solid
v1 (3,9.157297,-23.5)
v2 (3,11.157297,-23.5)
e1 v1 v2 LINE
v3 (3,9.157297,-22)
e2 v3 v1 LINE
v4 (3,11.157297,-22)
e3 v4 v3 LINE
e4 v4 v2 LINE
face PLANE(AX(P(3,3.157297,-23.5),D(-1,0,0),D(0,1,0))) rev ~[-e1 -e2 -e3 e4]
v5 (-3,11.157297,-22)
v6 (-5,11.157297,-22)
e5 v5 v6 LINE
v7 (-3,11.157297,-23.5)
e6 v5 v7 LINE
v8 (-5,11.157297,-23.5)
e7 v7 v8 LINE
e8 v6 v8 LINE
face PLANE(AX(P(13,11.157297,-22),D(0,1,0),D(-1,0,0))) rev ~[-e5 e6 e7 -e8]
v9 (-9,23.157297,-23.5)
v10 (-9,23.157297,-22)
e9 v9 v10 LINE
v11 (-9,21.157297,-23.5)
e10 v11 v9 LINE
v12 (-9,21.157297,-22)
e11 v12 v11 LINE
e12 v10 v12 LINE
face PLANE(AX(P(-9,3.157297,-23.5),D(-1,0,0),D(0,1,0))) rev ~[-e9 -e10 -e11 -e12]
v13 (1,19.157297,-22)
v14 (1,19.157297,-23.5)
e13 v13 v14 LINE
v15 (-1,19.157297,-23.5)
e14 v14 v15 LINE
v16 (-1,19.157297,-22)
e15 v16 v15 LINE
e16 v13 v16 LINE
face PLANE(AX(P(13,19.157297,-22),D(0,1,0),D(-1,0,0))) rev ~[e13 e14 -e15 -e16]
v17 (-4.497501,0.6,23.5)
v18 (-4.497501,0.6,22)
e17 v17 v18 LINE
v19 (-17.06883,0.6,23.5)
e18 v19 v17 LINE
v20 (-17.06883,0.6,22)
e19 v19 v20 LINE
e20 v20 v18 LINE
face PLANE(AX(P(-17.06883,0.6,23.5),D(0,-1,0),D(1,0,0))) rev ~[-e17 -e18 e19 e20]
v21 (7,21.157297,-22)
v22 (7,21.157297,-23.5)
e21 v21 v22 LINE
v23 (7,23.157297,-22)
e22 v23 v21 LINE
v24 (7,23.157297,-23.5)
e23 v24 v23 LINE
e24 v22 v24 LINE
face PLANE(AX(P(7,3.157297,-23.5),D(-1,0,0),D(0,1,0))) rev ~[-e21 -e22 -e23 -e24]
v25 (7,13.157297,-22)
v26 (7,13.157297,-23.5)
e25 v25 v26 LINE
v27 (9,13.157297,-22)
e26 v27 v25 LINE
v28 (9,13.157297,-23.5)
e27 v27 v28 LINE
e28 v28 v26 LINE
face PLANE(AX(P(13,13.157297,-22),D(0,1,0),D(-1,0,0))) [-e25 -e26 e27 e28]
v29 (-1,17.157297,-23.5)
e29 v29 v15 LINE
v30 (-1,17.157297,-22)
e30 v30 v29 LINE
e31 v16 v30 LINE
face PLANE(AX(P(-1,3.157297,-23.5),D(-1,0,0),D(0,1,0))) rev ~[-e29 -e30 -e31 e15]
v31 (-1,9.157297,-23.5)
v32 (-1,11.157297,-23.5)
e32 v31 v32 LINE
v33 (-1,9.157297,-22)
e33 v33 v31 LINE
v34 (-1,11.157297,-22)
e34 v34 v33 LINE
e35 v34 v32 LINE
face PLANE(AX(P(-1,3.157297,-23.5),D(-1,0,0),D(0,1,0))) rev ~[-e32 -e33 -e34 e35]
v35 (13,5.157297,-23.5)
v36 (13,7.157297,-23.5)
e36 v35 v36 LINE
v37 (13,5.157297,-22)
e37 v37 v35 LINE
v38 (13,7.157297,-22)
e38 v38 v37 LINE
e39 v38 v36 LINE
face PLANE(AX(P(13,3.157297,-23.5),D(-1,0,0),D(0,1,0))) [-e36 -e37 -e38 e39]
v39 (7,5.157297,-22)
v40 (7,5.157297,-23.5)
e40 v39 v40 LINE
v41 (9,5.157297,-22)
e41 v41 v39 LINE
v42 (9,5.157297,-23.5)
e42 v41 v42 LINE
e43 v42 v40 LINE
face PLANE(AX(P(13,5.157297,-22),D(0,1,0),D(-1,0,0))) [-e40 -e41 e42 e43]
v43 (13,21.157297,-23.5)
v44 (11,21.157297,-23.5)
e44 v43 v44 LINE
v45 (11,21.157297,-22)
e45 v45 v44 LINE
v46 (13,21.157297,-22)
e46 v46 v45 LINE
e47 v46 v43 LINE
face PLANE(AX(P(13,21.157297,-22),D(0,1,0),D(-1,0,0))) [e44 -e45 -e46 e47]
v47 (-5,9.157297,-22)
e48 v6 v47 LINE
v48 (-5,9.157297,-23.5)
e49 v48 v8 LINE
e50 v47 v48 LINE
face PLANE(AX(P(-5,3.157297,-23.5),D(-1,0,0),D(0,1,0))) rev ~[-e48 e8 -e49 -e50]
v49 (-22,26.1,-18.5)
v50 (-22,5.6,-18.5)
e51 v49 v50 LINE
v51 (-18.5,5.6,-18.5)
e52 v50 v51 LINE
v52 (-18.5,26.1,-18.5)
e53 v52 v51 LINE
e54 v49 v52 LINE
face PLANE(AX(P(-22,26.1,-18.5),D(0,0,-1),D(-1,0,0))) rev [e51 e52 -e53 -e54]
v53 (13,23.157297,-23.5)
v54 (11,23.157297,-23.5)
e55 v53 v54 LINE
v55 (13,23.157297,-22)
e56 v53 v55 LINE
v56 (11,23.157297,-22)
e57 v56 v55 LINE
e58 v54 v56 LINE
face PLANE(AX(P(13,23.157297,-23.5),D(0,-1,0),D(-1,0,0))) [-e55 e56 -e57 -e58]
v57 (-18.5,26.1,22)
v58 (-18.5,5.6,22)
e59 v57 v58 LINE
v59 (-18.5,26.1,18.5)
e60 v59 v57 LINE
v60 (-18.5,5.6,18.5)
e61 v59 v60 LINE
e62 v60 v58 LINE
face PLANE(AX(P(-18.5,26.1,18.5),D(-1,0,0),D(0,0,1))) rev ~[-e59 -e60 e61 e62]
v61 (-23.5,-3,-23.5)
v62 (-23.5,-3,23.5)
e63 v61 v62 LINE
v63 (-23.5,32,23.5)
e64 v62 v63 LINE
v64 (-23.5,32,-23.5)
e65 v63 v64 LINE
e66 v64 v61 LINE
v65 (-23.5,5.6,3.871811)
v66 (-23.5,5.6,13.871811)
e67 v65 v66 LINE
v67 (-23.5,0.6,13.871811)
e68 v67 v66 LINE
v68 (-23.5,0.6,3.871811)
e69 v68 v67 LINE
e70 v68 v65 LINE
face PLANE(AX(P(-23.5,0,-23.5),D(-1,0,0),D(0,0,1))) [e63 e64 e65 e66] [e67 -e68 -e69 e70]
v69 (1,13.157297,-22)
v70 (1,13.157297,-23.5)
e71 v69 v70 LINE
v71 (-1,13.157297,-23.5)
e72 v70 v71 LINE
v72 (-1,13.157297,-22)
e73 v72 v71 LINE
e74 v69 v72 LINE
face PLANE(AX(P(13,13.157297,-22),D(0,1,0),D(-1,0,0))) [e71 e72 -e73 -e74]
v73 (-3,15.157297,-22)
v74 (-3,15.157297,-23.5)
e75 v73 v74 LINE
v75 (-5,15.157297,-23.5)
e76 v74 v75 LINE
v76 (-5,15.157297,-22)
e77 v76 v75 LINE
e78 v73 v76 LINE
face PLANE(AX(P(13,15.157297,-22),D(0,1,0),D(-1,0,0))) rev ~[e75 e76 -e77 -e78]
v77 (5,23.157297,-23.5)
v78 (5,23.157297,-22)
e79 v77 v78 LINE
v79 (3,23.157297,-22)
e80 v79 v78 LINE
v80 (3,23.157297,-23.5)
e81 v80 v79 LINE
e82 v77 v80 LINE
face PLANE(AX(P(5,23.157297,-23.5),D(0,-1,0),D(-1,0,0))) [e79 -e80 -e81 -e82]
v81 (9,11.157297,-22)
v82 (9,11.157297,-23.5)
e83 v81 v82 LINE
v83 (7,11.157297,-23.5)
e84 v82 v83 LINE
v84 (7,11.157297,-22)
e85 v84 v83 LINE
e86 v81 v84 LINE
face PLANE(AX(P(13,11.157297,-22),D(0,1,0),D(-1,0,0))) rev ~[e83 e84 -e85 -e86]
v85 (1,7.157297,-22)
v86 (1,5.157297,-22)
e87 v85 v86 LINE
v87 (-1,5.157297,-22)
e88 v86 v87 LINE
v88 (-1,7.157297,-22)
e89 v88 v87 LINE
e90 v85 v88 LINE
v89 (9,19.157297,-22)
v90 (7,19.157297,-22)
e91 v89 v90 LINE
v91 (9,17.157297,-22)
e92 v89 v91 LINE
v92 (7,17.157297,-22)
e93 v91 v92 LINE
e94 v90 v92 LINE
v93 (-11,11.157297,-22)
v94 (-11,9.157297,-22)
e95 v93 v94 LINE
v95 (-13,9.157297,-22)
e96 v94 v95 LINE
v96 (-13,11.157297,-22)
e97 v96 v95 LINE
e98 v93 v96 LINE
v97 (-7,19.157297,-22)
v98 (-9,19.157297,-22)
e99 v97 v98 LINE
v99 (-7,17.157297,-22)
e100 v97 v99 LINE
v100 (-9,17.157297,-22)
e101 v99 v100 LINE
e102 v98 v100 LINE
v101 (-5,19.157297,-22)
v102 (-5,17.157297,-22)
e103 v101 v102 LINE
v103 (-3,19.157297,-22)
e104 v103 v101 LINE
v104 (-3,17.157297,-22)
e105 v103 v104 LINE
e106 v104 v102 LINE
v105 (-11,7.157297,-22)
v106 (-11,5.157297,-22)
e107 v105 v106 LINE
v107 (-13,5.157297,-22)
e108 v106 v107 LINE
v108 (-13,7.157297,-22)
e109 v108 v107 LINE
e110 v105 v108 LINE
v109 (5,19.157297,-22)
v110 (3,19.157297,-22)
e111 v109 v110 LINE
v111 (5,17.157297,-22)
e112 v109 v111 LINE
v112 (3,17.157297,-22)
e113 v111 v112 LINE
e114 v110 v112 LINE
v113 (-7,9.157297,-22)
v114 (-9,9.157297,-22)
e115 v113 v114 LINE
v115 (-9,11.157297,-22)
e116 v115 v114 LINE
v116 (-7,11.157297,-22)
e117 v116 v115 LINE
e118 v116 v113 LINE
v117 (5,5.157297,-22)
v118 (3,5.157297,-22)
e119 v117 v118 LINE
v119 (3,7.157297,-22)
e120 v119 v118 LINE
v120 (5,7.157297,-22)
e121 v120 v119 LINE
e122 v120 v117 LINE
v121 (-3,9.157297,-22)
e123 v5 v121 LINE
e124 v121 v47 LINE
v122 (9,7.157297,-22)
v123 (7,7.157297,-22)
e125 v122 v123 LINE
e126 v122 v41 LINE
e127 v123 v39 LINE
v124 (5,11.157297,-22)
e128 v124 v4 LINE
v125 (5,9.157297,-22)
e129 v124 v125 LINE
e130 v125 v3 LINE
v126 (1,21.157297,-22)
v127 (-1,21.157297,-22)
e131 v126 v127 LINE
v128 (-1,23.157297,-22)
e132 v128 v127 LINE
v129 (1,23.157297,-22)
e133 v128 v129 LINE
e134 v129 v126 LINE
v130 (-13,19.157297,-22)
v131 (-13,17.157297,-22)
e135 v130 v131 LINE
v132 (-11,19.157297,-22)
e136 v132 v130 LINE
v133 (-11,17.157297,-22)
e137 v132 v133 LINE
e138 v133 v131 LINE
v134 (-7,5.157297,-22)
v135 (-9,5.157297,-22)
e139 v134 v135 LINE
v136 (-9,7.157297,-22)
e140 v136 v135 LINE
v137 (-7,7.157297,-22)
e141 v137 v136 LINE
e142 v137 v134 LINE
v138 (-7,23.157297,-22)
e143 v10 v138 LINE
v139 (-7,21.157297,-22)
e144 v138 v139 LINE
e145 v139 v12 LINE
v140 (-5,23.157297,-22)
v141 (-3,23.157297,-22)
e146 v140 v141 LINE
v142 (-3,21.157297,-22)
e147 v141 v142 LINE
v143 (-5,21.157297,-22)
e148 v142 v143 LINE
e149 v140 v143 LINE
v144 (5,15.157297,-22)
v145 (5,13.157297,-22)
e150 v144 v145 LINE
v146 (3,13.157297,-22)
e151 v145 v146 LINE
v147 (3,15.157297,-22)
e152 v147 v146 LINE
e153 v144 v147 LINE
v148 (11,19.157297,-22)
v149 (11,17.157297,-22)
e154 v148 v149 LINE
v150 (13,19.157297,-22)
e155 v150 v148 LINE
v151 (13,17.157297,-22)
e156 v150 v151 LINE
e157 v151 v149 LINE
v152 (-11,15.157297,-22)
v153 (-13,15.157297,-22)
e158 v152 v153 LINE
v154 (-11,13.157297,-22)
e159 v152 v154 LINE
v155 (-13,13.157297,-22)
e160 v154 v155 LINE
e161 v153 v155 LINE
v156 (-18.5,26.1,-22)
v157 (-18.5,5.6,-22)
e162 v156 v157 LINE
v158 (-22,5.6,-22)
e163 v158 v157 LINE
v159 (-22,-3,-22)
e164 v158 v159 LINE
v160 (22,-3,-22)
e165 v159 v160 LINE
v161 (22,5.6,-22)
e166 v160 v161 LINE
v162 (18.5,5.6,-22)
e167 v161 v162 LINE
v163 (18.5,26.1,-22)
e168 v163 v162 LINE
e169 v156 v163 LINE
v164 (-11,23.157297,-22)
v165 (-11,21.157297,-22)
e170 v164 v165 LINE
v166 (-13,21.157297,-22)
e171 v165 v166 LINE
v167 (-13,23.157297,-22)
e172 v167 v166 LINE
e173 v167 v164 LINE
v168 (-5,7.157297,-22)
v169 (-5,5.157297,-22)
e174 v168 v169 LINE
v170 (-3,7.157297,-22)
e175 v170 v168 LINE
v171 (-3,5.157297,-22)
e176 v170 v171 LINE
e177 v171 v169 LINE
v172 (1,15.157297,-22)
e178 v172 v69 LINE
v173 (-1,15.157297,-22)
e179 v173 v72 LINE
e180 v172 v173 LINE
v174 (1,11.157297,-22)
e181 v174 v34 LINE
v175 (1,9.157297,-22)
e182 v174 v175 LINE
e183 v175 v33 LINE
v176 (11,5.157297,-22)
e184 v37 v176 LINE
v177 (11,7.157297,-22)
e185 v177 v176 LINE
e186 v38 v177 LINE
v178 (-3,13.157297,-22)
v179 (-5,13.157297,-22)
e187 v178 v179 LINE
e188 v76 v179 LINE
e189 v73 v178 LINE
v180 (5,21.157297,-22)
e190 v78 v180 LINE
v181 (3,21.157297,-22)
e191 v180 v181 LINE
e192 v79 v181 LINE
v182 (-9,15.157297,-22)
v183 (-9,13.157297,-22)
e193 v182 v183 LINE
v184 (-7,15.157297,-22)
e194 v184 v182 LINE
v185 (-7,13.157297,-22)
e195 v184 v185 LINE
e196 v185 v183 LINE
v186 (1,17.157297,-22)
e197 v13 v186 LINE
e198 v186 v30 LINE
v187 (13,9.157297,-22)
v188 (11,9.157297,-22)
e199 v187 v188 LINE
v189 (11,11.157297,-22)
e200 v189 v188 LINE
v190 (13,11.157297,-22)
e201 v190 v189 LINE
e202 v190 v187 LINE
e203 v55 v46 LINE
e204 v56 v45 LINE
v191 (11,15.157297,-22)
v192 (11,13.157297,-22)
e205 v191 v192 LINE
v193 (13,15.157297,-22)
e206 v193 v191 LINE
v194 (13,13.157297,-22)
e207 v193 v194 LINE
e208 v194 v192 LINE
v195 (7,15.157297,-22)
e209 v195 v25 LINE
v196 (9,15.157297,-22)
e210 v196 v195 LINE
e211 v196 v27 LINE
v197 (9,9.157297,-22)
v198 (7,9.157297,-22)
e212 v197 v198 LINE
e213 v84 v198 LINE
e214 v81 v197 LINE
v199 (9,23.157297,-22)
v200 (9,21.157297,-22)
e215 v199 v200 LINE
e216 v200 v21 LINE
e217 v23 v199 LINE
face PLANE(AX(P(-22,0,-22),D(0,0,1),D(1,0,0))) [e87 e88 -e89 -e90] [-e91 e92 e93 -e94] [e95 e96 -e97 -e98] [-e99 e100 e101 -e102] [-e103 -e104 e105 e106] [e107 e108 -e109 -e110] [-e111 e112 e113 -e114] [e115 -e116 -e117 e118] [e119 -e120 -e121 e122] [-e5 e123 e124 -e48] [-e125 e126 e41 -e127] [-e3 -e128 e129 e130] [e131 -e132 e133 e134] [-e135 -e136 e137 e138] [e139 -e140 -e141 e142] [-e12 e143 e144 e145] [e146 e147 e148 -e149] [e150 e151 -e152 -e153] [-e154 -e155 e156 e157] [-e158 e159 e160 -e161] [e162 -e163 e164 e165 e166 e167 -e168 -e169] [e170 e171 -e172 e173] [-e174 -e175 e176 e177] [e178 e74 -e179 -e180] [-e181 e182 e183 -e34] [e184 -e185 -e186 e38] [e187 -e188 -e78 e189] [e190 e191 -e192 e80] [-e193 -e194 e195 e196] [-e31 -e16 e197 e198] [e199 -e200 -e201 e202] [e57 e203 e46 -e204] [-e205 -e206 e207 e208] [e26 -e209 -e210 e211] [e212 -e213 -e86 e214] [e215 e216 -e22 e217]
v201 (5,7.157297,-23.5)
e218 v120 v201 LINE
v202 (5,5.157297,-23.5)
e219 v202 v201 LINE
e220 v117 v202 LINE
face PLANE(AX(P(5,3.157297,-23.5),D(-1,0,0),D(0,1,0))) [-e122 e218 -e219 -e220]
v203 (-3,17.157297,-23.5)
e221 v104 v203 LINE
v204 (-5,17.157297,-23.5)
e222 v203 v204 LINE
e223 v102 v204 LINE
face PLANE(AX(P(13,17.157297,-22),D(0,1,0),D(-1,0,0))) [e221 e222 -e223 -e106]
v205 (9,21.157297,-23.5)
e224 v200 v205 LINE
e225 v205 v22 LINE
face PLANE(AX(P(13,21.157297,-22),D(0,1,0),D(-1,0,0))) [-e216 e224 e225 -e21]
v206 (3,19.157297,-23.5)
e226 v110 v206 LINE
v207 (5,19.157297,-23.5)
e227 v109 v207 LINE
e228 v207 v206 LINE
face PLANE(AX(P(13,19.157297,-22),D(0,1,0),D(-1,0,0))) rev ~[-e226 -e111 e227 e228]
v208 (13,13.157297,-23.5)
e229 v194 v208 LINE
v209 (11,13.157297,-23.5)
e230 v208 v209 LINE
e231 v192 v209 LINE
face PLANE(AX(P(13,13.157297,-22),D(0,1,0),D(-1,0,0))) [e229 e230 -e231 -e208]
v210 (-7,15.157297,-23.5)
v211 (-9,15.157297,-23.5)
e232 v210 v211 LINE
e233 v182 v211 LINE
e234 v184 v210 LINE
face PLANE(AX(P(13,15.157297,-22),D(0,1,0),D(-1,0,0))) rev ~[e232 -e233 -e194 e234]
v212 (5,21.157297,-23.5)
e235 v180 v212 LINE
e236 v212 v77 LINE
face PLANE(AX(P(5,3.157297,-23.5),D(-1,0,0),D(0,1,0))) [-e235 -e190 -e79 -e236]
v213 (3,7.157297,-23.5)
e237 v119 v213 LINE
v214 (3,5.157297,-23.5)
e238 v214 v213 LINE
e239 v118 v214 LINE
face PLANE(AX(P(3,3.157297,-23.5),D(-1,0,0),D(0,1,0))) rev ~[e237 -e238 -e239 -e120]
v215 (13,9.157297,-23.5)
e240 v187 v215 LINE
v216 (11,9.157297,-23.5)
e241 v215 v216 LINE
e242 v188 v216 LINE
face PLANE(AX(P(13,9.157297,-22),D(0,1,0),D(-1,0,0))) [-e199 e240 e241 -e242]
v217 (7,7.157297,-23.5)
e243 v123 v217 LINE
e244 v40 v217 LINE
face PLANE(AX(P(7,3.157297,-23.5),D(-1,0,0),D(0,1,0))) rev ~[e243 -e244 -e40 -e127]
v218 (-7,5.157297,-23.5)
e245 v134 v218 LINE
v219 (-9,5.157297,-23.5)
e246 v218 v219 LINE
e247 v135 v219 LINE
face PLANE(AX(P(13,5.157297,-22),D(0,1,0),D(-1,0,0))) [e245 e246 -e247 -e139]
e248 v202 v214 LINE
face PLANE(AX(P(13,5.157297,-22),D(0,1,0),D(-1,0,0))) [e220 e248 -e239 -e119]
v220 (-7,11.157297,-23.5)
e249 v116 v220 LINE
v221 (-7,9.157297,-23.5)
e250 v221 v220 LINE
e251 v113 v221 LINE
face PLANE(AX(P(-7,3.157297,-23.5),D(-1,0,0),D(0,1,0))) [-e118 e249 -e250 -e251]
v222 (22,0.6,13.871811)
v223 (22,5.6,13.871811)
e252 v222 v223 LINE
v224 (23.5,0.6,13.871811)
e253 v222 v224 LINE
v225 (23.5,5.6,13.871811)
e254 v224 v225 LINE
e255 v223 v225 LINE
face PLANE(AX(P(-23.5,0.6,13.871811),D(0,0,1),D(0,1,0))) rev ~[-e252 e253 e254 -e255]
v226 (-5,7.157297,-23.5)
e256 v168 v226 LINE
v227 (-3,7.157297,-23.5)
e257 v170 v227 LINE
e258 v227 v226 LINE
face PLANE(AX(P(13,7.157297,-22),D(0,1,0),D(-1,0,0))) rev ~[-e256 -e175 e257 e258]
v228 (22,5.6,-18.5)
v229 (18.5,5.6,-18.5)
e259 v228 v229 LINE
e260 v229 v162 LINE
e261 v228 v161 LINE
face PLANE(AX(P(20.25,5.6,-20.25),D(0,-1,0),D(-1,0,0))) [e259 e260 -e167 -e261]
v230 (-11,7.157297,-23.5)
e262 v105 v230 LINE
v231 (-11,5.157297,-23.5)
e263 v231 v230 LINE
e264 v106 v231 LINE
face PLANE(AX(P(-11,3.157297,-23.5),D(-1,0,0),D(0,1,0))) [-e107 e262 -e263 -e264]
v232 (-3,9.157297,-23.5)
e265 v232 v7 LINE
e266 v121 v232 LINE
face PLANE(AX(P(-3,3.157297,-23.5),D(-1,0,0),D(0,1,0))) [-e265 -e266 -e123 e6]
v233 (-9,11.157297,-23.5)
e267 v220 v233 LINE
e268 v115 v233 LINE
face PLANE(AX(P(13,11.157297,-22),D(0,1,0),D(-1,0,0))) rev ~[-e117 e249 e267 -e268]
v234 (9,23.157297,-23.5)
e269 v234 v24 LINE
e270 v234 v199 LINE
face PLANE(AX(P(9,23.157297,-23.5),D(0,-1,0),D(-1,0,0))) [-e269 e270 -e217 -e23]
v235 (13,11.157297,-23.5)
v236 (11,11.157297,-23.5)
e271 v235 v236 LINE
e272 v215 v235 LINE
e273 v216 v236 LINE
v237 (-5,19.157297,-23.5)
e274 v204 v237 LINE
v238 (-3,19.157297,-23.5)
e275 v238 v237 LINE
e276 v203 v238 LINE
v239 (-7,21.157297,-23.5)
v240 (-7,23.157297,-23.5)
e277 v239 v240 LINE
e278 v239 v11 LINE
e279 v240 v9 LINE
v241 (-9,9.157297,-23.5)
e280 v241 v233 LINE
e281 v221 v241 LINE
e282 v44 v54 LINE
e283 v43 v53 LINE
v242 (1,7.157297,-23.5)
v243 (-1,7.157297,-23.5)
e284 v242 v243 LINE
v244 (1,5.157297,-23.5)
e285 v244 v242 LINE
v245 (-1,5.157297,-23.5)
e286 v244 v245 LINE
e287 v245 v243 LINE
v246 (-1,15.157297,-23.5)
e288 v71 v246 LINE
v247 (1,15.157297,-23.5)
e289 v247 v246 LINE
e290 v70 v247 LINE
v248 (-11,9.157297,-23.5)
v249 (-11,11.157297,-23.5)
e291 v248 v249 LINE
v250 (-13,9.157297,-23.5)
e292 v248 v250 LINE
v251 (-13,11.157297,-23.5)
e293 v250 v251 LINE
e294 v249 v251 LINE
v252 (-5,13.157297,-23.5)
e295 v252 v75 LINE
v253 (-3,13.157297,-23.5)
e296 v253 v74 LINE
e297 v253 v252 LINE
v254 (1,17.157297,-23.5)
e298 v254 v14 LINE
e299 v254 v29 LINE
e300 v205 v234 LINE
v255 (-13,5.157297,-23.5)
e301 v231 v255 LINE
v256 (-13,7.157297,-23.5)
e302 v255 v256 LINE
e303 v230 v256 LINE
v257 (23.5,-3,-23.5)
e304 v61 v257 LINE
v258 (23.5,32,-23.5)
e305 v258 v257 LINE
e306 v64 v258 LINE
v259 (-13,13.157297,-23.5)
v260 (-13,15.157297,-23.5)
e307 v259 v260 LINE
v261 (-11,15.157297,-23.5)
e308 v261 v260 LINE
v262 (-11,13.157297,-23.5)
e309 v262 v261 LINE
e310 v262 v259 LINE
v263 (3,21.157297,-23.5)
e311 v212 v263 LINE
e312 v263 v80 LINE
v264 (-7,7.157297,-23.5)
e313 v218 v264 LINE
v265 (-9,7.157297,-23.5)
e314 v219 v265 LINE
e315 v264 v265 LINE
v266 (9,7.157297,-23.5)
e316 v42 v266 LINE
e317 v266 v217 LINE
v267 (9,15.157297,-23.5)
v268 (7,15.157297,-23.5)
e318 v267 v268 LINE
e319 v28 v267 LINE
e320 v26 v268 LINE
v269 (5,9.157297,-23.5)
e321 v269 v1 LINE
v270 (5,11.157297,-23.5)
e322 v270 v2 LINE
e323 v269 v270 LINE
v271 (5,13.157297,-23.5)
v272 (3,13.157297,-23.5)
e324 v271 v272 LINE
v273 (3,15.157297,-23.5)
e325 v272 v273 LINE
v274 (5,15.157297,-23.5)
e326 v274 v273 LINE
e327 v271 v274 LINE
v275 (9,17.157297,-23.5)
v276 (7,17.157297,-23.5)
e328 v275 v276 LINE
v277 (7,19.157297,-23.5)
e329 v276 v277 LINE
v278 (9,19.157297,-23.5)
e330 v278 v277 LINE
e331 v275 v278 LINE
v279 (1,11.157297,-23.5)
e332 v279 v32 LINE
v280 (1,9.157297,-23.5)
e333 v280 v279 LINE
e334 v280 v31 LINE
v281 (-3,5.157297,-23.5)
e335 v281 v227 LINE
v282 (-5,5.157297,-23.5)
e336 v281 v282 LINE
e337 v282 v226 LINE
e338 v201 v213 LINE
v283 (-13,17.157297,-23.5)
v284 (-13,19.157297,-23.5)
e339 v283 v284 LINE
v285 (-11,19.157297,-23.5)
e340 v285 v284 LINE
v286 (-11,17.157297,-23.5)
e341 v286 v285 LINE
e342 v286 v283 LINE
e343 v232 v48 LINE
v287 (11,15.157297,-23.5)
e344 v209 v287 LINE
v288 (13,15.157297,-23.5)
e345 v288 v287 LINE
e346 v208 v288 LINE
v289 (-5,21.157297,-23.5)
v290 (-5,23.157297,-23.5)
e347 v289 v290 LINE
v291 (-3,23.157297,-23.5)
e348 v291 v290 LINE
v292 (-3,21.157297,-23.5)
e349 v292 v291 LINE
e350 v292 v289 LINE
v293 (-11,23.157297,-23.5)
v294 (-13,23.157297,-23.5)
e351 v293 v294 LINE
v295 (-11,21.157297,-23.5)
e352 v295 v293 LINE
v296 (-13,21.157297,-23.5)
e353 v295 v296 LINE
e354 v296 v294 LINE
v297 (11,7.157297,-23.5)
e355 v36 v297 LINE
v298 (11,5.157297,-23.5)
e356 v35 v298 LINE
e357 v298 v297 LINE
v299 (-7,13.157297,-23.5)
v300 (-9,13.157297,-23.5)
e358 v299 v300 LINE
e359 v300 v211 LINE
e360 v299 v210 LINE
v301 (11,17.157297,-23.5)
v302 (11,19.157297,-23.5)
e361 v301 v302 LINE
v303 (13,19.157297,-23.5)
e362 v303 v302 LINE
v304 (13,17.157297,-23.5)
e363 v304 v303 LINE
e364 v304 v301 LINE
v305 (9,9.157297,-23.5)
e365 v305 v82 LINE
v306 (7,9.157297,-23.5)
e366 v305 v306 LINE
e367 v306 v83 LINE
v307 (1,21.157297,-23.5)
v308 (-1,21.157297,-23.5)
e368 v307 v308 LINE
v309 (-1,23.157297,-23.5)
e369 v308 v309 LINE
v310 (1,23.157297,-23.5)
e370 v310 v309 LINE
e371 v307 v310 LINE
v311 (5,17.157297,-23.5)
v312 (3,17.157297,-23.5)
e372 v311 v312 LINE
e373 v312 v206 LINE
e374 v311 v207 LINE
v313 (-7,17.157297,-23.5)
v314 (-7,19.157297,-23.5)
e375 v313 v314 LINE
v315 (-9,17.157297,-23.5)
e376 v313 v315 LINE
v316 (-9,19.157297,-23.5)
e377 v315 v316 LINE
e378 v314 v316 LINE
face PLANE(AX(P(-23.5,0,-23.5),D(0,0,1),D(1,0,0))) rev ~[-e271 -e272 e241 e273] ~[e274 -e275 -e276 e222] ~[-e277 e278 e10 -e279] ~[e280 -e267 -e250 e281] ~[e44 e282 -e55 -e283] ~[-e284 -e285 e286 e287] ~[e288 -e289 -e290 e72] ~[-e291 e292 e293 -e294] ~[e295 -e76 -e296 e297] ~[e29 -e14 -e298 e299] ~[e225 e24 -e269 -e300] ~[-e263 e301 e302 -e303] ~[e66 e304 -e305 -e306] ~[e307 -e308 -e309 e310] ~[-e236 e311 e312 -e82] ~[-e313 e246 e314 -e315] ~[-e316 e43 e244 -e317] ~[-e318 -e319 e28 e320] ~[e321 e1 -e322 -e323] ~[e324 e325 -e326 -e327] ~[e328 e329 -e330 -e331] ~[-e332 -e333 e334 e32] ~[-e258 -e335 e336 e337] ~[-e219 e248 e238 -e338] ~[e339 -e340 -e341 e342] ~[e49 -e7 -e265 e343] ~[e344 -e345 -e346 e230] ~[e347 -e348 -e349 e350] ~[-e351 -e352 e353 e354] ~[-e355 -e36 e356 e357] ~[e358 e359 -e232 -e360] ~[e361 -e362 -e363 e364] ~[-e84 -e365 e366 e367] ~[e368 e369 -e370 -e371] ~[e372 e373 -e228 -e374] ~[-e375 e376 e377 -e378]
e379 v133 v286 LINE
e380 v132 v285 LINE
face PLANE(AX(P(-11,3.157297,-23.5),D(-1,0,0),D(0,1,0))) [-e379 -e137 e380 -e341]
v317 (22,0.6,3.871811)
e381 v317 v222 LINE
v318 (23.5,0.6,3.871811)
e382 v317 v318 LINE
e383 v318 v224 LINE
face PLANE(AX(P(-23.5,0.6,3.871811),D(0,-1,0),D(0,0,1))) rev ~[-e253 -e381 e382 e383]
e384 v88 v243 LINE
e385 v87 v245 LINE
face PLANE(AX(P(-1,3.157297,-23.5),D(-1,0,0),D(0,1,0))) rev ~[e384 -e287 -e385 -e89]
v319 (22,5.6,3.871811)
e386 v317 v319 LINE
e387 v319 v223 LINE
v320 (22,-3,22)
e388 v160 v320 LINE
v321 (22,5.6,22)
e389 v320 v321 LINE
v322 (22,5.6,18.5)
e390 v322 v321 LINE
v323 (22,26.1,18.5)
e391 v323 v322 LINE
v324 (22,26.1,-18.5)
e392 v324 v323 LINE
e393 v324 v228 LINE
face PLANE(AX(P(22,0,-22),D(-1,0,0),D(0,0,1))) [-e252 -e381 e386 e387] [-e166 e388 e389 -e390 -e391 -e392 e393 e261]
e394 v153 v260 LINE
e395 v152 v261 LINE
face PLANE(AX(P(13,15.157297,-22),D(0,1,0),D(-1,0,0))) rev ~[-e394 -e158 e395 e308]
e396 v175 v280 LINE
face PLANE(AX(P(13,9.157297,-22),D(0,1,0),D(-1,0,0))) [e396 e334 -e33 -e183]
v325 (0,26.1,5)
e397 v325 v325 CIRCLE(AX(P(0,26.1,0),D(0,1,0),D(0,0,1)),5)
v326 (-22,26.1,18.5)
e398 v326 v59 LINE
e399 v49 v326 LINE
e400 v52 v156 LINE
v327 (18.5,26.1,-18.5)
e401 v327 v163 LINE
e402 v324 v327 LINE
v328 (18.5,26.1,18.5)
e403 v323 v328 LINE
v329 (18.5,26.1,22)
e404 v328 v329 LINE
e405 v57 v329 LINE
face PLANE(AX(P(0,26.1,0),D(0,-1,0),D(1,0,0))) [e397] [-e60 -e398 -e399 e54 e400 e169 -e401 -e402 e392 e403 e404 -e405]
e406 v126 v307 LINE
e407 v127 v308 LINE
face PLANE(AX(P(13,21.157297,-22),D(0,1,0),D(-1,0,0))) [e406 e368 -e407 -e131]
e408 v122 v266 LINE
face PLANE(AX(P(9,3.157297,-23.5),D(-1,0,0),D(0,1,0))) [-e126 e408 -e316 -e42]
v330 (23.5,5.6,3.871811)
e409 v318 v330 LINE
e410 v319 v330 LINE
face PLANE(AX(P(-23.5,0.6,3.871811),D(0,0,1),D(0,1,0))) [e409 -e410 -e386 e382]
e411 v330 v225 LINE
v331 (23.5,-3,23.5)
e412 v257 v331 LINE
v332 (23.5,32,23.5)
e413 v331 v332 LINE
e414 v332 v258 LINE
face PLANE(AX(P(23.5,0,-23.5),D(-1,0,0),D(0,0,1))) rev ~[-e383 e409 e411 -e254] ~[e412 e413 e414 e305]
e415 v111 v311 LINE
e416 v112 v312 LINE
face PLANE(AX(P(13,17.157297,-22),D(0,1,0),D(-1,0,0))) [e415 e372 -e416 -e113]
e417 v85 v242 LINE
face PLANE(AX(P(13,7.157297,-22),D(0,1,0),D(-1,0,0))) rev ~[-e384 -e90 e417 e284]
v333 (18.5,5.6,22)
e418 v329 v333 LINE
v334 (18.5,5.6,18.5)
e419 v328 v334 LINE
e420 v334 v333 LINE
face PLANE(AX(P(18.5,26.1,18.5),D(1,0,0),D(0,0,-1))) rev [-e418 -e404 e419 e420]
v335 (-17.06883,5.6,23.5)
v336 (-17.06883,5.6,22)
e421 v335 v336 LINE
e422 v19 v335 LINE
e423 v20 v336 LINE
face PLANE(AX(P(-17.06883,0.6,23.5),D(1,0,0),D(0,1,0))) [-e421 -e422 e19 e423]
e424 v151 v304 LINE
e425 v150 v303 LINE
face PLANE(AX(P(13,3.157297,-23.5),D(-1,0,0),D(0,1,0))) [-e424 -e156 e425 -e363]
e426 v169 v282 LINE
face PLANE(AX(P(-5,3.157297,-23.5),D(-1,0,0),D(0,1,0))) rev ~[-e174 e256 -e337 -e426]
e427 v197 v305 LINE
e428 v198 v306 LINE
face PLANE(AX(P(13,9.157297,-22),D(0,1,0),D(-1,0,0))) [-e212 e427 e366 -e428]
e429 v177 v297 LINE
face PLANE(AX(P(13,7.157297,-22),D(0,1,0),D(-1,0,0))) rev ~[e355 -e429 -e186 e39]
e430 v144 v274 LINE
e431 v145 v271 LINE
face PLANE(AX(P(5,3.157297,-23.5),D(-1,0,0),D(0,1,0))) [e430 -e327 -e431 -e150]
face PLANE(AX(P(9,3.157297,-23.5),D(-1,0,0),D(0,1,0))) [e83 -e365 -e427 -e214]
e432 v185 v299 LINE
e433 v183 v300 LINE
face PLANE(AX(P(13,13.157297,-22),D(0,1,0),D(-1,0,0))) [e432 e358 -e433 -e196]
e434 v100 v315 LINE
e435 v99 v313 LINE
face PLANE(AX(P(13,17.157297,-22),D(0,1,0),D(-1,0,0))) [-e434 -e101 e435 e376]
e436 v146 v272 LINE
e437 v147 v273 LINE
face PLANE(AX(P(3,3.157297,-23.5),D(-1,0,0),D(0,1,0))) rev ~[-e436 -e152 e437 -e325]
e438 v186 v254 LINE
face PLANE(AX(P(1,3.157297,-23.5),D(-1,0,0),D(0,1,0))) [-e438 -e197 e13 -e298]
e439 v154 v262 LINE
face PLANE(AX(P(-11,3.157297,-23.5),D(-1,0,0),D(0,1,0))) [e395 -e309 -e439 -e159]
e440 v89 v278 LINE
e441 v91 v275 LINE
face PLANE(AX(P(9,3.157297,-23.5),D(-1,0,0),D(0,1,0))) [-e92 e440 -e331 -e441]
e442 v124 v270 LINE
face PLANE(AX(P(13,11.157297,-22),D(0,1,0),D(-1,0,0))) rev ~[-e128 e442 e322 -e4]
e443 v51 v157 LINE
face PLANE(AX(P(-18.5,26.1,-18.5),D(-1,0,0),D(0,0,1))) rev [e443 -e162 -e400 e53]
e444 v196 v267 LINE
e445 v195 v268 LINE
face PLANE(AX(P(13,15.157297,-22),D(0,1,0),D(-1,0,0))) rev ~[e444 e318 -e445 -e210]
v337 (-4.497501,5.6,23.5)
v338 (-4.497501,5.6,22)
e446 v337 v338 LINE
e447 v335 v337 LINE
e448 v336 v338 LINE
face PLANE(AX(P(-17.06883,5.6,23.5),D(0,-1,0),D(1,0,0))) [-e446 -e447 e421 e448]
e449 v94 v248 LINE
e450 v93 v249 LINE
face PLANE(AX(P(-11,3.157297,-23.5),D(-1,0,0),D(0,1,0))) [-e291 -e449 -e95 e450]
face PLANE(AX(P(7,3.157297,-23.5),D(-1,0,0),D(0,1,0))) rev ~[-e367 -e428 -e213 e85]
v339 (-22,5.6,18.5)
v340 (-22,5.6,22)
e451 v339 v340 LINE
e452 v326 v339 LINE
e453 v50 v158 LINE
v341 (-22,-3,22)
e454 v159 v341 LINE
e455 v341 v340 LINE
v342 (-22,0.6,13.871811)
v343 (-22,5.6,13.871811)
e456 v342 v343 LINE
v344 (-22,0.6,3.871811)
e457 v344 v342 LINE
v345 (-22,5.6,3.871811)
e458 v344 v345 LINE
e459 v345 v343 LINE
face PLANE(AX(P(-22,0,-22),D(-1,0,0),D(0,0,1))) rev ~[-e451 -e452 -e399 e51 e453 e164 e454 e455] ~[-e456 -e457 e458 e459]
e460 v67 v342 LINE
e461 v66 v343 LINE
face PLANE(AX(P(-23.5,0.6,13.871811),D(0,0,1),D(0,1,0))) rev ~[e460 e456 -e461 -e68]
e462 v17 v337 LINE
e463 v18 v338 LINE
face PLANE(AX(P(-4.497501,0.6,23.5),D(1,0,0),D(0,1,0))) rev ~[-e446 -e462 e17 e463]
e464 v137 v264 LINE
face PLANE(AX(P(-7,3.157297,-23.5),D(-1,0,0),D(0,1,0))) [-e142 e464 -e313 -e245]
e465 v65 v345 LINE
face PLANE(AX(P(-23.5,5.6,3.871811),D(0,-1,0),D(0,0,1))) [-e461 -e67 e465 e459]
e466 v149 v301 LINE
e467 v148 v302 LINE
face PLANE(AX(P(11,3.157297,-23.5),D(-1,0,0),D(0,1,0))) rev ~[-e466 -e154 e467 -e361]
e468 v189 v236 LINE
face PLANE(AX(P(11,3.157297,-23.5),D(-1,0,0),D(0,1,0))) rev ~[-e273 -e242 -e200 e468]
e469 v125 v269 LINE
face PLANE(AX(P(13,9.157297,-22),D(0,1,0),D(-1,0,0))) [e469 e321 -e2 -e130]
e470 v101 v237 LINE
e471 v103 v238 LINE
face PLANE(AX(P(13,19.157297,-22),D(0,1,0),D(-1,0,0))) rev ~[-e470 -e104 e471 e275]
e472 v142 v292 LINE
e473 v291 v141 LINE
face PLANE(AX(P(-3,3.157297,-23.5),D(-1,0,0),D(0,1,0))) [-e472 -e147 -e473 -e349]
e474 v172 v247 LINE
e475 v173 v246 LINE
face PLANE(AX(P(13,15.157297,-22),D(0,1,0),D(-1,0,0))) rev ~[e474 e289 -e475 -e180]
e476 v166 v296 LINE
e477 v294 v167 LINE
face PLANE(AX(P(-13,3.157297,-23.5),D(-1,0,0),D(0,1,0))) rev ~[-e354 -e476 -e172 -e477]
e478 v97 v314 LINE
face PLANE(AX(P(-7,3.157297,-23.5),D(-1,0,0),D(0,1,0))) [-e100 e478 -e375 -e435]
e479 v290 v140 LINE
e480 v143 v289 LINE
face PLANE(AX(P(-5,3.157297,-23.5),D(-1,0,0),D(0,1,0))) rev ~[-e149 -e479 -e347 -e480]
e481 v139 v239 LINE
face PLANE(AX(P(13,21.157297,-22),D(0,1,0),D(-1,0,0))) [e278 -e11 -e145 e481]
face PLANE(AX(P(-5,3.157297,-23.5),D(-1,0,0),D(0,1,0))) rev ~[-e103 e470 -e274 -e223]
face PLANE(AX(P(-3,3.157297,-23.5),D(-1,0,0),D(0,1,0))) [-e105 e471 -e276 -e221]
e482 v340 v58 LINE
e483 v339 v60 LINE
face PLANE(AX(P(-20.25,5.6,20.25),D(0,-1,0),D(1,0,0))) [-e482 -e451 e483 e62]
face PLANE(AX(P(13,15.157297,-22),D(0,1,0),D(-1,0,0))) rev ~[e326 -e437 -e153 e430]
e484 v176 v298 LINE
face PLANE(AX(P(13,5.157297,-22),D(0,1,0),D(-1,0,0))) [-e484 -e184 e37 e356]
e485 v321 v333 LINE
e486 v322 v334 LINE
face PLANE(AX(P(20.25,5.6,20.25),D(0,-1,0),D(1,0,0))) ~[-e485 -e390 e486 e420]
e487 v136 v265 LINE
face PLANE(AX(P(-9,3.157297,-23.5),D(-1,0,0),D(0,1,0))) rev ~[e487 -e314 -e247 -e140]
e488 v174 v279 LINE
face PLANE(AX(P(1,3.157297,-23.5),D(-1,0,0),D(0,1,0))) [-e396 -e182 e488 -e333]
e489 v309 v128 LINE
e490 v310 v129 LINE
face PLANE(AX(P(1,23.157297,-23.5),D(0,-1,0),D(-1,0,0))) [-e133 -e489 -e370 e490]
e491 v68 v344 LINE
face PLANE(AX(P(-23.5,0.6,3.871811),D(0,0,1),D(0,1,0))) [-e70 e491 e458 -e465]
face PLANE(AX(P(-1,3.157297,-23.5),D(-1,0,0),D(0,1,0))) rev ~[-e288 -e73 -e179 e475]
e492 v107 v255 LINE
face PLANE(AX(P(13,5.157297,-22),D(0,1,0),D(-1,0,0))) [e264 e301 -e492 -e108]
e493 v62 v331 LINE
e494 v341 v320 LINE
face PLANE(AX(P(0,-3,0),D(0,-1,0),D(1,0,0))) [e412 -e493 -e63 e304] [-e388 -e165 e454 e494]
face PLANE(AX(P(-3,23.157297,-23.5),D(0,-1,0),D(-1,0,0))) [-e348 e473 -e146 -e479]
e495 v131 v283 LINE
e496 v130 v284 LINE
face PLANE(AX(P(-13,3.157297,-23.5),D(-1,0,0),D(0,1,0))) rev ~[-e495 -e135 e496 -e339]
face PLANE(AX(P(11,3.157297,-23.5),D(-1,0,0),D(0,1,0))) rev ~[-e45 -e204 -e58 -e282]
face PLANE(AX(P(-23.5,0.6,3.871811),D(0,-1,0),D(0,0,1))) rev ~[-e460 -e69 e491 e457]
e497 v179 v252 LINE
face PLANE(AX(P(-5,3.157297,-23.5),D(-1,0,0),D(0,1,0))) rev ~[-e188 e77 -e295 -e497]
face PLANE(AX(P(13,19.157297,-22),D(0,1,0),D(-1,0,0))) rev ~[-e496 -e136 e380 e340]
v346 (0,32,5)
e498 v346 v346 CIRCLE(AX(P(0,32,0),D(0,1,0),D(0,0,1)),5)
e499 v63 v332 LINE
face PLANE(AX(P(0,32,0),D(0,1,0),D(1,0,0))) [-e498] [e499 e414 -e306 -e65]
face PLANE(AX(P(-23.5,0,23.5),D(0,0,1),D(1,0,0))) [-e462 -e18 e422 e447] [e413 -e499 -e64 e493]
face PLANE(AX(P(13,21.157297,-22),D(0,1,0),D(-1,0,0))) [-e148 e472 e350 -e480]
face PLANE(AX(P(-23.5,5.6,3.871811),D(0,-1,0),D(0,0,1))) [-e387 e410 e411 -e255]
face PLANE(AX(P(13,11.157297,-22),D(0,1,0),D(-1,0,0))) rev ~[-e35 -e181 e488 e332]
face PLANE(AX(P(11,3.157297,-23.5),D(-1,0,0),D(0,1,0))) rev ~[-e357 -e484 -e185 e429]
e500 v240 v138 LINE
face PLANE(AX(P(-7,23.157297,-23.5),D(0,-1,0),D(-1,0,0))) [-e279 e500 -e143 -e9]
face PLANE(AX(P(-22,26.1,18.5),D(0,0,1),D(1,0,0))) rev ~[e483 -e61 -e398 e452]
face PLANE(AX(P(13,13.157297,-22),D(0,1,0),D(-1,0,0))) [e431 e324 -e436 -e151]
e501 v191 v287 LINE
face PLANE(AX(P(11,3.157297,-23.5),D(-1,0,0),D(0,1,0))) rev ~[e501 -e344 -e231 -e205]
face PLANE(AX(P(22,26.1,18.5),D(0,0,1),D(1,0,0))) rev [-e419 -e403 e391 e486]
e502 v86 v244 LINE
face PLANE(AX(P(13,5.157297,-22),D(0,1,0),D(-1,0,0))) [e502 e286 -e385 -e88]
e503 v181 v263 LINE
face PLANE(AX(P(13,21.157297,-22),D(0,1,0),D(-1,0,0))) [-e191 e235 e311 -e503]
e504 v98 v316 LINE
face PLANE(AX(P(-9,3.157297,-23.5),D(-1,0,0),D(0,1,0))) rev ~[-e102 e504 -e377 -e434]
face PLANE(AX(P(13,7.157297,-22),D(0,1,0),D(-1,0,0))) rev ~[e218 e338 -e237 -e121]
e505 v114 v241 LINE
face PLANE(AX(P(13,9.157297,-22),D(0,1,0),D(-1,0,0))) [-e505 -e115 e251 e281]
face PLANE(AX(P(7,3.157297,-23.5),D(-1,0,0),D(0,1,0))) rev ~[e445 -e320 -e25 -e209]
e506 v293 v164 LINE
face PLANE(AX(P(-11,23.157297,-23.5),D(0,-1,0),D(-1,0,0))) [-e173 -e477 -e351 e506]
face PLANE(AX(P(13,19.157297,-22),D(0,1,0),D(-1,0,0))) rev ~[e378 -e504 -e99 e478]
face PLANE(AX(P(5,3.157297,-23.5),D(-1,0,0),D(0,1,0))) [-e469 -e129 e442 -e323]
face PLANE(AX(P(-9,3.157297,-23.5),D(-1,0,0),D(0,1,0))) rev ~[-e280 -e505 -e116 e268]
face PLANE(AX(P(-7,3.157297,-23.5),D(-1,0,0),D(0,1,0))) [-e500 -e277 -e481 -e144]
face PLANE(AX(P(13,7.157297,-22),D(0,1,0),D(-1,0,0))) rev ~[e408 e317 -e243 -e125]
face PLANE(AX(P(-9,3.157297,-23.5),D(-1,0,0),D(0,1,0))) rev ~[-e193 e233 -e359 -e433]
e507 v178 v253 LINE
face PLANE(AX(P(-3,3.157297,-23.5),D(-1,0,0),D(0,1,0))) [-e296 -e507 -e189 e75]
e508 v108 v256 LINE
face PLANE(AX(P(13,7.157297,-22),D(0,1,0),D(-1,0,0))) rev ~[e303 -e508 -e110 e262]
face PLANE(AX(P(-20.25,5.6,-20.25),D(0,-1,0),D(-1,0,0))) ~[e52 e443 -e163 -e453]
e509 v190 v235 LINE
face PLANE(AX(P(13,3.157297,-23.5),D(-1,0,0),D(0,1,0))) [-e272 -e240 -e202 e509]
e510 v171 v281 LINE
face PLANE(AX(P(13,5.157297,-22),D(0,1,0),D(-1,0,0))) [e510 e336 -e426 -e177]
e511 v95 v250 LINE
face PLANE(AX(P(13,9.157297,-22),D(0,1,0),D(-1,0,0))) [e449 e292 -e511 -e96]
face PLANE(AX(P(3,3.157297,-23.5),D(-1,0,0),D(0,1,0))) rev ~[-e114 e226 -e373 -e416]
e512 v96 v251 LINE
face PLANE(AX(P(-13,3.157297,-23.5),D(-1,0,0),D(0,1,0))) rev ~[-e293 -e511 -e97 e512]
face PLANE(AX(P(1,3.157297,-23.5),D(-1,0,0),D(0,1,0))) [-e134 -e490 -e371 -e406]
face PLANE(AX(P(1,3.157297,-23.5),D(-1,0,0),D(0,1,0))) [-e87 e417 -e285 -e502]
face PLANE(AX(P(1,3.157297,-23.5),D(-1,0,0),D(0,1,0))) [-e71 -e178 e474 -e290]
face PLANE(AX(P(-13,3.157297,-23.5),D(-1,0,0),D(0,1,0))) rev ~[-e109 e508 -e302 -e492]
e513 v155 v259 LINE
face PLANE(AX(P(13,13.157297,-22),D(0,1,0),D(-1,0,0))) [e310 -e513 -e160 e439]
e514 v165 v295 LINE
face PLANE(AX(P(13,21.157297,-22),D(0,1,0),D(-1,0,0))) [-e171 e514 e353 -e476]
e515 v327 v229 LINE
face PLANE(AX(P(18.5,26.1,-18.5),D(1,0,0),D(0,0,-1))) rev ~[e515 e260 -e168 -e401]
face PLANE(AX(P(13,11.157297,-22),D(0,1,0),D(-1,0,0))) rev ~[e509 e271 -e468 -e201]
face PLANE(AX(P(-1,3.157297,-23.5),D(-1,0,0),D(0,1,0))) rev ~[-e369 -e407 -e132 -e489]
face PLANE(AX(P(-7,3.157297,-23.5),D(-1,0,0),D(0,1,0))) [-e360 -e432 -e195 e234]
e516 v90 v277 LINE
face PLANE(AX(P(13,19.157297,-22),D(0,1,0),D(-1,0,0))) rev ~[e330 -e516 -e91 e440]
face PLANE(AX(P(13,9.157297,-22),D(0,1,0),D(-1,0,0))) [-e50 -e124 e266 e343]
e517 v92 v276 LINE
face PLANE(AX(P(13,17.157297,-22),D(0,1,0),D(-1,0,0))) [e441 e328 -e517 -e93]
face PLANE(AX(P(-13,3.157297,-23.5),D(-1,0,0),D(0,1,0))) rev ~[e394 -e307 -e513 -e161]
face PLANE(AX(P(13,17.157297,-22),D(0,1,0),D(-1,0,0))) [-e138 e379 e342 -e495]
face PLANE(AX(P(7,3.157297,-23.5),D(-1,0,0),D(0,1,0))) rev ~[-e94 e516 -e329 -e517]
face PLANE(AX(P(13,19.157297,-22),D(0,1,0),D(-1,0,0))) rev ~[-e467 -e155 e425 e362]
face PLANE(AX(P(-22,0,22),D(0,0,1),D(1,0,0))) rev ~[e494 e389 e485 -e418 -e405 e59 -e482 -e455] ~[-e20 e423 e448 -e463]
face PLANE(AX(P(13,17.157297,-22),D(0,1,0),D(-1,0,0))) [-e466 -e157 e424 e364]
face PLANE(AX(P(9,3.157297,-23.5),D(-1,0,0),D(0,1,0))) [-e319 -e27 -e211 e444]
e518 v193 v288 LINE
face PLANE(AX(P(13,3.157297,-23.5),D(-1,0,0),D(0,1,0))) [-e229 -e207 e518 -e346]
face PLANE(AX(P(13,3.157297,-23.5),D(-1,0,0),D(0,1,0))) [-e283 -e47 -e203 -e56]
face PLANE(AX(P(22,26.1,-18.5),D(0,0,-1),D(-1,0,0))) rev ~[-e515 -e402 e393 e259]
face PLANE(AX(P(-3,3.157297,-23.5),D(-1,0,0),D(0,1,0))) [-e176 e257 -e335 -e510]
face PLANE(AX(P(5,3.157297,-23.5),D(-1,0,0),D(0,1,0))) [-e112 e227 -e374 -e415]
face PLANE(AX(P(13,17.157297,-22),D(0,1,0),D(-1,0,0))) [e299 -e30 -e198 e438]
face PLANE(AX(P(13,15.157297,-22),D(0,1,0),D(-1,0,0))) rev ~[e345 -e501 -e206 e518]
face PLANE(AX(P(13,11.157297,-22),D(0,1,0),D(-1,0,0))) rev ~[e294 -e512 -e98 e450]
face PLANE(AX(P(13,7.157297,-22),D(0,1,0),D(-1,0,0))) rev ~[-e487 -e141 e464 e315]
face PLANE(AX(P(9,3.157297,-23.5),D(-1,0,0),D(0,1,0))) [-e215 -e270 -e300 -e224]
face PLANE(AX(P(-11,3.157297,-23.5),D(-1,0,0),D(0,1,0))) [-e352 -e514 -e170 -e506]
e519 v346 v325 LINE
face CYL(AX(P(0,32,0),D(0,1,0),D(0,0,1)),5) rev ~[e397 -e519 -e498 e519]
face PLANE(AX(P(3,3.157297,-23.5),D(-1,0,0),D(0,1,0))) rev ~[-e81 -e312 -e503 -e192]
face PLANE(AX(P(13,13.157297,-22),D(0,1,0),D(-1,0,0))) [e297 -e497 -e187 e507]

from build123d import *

# Parameters (mm, degrees)
SKETCH1_W                                  = 47
SKETCH1_H                                  = 47
BOSS_EXTRUDE1_DEPTH                        = 32
SKETCH2_W                                  = 44
SKETCH2_H                                  = 44
CUT_EXTRUDE1_DEPTH                         = 26.1
SKETCH3_W                                  = 3.5
SKETCH3_H                                  = 3.5
BOSS_EXTRUDE2_DEPTH                        = 20.5
MIRROR1_AT_THE_SECOND_PLANE_COPY_1_SKETC_W = 3.5
MIRROR1_AT_THE_SECOND_PLANE_COPY_1_SKETC_H = 3.5
MIRROR1_AT_THE_SECOND_PLANE_COPY_1_DEPTH   = 20.5
CUT_EXTRUDE3_REACH                         = 63.524
SKETCH4_W                                  = 2
SKETCH4_H                                  = 20
LPATTERN1_COUNT                            = 7
LPATTERN1_PITCH                            = 4
BOSS_EXTRUDE4_START                        = -1.5
SKETCH8_W                                  = 26
SKETCH8_H                                  = 2
BOSS_EXTRUDE4_DEPTH                        = 1.5
LPATTERN2_COUNT                            = 5
LPATTERN2_PITCH                            = 4
SKETCH6_W                                  = 47
SKETCH6_H                                  = 47
SKETCH6_W_2                                = 44
SKETCH6_H_2                                = 44
BOSS_EXTRUDE5_DEPTH                        = 3
SKETCH7_R                                  = 5
CUT_EXTRUDE4_DEPTH                         = 10
SKETCH10_W                                 = 10
SKETCH10_H                                 = 5
CUT_EXTRUDE5_DEPTH                         = 62.524385409
SKETCH12_W                                 = 12.571328749
SKETCH12_H                                 = 5
CUT_EXTRUDE6_DEPTH                         = 10


with BuildPart() as part:
    # Sketch1 → Boss-Extrude1 (new body)
    with BuildSketch(Plane(origin=(0, 0, 0), x_dir=(1, 0, 0), z_dir=(0, 1, 0))):
        Rectangle(SKETCH1_W, SKETCH1_H)
    extrude(amount=BOSS_EXTRUDE1_DEPTH)

    # Sketch2 → Cut-Extrude1 (cut)
    with BuildSketch(Plane.XZ):
        Rectangle(SKETCH2_W, SKETCH2_H)
    extrude(amount=-CUT_EXTRUDE1_DEPTH, mode=Mode.SUBTRACT)

    # Sketch3 → Boss-Extrude2 (add)
    with BuildSketch(Plane.XZ.offset(-26.1)):
        with Locations((-20.25, 20.25)):
            Rectangle(SKETCH3_W, SKETCH3_H)
    boss_extrude2 = extrude(amount=BOSS_EXTRUDE2_DEPTH)

    # Mirror1: Boss-Extrude2 across plane
    add(boss_extrude2.mirror(Plane(origin=(0, 0, 0), x_dir=(0, 0, 1), z_dir=(1, 0, 0))))

    # Mirror1 at the second plane: Boss-Extrude2 across plane
    add(boss_extrude2.mirror(Plane.XY))

    # Mirror1 at the second plane copy 1 sketc → Mirror1 at the second plane copy 1 (add)
    with BuildSketch(Plane(origin=(0, 26.1, 0), x_dir=(-1, 0, 0), z_dir=(0, -1, 0))):
        with Locations((-20.25, 20.25)):
            Rectangle(MIRROR1_AT_THE_SECOND_PLANE_COPY_1_SKETC_W, MIRROR1_AT_THE_SECOND_PLANE_COPY_1_SKETC_H)
    extrude(amount=MIRROR1_AT_THE_SECOND_PLANE_COPY_1_DEPTH)

    # Sketch4 → Cut-Extrude3 (cut, up to next)
    with BuildSketch(Plane(origin=(0, 0, -23.5), x_dir=(-1, 0, 0), z_dir=(0, 0, -1)), mode=Mode.PRIVATE) as cut_extrude3_sk1:
        with Locations((-12, 13.157296847)):
            Rectangle(SKETCH4_W, SKETCH4_H)
    cut_extrude3_tool1 = extrude(cut_extrude3_sk1.sketch, amount=-CUT_EXTRUDE3_REACH, mode=Mode.PRIVATE) & part.part
    cut_extrude3 = cut_extrude3_tool1.solids().sort_by_distance((12, 13.157297, -23.5))[0]
    add(cut_extrude3, mode=Mode.SUBTRACT)

    # LPattern1: Cut-Extrude3 ×7
    with Locations(*[(-i * LPATTERN1_PITCH, 0, 0) for i in range(1, LPATTERN1_COUNT)]):
        add(cut_extrude3, mode=Mode.SUBTRACT)

    # Sketch8 → Boss-Extrude4 (add)
    with BuildSketch(Plane(origin=(0, 0, -23.5), x_dir=(-1, 0, 0), z_dir=(0, 0, -1)).offset(BOSS_EXTRUDE4_START)):
        with Locations((0, 20.157296847)):
            Rectangle(SKETCH8_W, SKETCH8_H)
    boss_extrude4 = extrude(amount=BOSS_EXTRUDE4_DEPTH)

    # LPattern2: Boss-Extrude4 ×5
    with Locations(*[(0, -i * LPATTERN2_PITCH, 0) for i in range(1, LPATTERN2_COUNT)]):
        add(boss_extrude4)

    # Sketch6 → Boss-Extrude5 (add)
    with BuildSketch(Plane.XZ):
        Rectangle(SKETCH6_W, SKETCH6_H)
        Rectangle(SKETCH6_W_2, SKETCH6_H_2, mode=Mode.SUBTRACT)
    extrude(amount=BOSS_EXTRUDE5_DEPTH)

    # Sketch7 → Cut-Extrude4 (cut)
    with BuildSketch(Plane(origin=(0, 32, 0), x_dir=(1, 0, 0), z_dir=(0, 1, 0))):
        with Locations(Location((0, 0, 0), (0, 0, 270))):
            Circle(SKETCH7_R)
    extrude(amount=-CUT_EXTRUDE4_DEPTH, mode=Mode.SUBTRACT)

    # Sketch10 → Cut-Extrude5 (cut, through all)
    with BuildSketch(Plane.ZY.offset(23.5)):
        with Locations((8.871811033, 3.1)):
            Rectangle(SKETCH10_W, SKETCH10_H)
    extrude(amount=-CUT_EXTRUDE5_DEPTH, mode=Mode.SUBTRACT)

    # Sketch12 → Cut-Extrude6 (cut)
    with BuildSketch(Plane.XY.offset(23.5)):
        with Locations((-10.783165608, 3.1)):
            Rectangle(SKETCH12_W, SKETCH12_H)
    extrude(amount=-CUT_EXTRUDE6_DEPTH, mode=Mode.SUBTRACT)


solid = part.part
